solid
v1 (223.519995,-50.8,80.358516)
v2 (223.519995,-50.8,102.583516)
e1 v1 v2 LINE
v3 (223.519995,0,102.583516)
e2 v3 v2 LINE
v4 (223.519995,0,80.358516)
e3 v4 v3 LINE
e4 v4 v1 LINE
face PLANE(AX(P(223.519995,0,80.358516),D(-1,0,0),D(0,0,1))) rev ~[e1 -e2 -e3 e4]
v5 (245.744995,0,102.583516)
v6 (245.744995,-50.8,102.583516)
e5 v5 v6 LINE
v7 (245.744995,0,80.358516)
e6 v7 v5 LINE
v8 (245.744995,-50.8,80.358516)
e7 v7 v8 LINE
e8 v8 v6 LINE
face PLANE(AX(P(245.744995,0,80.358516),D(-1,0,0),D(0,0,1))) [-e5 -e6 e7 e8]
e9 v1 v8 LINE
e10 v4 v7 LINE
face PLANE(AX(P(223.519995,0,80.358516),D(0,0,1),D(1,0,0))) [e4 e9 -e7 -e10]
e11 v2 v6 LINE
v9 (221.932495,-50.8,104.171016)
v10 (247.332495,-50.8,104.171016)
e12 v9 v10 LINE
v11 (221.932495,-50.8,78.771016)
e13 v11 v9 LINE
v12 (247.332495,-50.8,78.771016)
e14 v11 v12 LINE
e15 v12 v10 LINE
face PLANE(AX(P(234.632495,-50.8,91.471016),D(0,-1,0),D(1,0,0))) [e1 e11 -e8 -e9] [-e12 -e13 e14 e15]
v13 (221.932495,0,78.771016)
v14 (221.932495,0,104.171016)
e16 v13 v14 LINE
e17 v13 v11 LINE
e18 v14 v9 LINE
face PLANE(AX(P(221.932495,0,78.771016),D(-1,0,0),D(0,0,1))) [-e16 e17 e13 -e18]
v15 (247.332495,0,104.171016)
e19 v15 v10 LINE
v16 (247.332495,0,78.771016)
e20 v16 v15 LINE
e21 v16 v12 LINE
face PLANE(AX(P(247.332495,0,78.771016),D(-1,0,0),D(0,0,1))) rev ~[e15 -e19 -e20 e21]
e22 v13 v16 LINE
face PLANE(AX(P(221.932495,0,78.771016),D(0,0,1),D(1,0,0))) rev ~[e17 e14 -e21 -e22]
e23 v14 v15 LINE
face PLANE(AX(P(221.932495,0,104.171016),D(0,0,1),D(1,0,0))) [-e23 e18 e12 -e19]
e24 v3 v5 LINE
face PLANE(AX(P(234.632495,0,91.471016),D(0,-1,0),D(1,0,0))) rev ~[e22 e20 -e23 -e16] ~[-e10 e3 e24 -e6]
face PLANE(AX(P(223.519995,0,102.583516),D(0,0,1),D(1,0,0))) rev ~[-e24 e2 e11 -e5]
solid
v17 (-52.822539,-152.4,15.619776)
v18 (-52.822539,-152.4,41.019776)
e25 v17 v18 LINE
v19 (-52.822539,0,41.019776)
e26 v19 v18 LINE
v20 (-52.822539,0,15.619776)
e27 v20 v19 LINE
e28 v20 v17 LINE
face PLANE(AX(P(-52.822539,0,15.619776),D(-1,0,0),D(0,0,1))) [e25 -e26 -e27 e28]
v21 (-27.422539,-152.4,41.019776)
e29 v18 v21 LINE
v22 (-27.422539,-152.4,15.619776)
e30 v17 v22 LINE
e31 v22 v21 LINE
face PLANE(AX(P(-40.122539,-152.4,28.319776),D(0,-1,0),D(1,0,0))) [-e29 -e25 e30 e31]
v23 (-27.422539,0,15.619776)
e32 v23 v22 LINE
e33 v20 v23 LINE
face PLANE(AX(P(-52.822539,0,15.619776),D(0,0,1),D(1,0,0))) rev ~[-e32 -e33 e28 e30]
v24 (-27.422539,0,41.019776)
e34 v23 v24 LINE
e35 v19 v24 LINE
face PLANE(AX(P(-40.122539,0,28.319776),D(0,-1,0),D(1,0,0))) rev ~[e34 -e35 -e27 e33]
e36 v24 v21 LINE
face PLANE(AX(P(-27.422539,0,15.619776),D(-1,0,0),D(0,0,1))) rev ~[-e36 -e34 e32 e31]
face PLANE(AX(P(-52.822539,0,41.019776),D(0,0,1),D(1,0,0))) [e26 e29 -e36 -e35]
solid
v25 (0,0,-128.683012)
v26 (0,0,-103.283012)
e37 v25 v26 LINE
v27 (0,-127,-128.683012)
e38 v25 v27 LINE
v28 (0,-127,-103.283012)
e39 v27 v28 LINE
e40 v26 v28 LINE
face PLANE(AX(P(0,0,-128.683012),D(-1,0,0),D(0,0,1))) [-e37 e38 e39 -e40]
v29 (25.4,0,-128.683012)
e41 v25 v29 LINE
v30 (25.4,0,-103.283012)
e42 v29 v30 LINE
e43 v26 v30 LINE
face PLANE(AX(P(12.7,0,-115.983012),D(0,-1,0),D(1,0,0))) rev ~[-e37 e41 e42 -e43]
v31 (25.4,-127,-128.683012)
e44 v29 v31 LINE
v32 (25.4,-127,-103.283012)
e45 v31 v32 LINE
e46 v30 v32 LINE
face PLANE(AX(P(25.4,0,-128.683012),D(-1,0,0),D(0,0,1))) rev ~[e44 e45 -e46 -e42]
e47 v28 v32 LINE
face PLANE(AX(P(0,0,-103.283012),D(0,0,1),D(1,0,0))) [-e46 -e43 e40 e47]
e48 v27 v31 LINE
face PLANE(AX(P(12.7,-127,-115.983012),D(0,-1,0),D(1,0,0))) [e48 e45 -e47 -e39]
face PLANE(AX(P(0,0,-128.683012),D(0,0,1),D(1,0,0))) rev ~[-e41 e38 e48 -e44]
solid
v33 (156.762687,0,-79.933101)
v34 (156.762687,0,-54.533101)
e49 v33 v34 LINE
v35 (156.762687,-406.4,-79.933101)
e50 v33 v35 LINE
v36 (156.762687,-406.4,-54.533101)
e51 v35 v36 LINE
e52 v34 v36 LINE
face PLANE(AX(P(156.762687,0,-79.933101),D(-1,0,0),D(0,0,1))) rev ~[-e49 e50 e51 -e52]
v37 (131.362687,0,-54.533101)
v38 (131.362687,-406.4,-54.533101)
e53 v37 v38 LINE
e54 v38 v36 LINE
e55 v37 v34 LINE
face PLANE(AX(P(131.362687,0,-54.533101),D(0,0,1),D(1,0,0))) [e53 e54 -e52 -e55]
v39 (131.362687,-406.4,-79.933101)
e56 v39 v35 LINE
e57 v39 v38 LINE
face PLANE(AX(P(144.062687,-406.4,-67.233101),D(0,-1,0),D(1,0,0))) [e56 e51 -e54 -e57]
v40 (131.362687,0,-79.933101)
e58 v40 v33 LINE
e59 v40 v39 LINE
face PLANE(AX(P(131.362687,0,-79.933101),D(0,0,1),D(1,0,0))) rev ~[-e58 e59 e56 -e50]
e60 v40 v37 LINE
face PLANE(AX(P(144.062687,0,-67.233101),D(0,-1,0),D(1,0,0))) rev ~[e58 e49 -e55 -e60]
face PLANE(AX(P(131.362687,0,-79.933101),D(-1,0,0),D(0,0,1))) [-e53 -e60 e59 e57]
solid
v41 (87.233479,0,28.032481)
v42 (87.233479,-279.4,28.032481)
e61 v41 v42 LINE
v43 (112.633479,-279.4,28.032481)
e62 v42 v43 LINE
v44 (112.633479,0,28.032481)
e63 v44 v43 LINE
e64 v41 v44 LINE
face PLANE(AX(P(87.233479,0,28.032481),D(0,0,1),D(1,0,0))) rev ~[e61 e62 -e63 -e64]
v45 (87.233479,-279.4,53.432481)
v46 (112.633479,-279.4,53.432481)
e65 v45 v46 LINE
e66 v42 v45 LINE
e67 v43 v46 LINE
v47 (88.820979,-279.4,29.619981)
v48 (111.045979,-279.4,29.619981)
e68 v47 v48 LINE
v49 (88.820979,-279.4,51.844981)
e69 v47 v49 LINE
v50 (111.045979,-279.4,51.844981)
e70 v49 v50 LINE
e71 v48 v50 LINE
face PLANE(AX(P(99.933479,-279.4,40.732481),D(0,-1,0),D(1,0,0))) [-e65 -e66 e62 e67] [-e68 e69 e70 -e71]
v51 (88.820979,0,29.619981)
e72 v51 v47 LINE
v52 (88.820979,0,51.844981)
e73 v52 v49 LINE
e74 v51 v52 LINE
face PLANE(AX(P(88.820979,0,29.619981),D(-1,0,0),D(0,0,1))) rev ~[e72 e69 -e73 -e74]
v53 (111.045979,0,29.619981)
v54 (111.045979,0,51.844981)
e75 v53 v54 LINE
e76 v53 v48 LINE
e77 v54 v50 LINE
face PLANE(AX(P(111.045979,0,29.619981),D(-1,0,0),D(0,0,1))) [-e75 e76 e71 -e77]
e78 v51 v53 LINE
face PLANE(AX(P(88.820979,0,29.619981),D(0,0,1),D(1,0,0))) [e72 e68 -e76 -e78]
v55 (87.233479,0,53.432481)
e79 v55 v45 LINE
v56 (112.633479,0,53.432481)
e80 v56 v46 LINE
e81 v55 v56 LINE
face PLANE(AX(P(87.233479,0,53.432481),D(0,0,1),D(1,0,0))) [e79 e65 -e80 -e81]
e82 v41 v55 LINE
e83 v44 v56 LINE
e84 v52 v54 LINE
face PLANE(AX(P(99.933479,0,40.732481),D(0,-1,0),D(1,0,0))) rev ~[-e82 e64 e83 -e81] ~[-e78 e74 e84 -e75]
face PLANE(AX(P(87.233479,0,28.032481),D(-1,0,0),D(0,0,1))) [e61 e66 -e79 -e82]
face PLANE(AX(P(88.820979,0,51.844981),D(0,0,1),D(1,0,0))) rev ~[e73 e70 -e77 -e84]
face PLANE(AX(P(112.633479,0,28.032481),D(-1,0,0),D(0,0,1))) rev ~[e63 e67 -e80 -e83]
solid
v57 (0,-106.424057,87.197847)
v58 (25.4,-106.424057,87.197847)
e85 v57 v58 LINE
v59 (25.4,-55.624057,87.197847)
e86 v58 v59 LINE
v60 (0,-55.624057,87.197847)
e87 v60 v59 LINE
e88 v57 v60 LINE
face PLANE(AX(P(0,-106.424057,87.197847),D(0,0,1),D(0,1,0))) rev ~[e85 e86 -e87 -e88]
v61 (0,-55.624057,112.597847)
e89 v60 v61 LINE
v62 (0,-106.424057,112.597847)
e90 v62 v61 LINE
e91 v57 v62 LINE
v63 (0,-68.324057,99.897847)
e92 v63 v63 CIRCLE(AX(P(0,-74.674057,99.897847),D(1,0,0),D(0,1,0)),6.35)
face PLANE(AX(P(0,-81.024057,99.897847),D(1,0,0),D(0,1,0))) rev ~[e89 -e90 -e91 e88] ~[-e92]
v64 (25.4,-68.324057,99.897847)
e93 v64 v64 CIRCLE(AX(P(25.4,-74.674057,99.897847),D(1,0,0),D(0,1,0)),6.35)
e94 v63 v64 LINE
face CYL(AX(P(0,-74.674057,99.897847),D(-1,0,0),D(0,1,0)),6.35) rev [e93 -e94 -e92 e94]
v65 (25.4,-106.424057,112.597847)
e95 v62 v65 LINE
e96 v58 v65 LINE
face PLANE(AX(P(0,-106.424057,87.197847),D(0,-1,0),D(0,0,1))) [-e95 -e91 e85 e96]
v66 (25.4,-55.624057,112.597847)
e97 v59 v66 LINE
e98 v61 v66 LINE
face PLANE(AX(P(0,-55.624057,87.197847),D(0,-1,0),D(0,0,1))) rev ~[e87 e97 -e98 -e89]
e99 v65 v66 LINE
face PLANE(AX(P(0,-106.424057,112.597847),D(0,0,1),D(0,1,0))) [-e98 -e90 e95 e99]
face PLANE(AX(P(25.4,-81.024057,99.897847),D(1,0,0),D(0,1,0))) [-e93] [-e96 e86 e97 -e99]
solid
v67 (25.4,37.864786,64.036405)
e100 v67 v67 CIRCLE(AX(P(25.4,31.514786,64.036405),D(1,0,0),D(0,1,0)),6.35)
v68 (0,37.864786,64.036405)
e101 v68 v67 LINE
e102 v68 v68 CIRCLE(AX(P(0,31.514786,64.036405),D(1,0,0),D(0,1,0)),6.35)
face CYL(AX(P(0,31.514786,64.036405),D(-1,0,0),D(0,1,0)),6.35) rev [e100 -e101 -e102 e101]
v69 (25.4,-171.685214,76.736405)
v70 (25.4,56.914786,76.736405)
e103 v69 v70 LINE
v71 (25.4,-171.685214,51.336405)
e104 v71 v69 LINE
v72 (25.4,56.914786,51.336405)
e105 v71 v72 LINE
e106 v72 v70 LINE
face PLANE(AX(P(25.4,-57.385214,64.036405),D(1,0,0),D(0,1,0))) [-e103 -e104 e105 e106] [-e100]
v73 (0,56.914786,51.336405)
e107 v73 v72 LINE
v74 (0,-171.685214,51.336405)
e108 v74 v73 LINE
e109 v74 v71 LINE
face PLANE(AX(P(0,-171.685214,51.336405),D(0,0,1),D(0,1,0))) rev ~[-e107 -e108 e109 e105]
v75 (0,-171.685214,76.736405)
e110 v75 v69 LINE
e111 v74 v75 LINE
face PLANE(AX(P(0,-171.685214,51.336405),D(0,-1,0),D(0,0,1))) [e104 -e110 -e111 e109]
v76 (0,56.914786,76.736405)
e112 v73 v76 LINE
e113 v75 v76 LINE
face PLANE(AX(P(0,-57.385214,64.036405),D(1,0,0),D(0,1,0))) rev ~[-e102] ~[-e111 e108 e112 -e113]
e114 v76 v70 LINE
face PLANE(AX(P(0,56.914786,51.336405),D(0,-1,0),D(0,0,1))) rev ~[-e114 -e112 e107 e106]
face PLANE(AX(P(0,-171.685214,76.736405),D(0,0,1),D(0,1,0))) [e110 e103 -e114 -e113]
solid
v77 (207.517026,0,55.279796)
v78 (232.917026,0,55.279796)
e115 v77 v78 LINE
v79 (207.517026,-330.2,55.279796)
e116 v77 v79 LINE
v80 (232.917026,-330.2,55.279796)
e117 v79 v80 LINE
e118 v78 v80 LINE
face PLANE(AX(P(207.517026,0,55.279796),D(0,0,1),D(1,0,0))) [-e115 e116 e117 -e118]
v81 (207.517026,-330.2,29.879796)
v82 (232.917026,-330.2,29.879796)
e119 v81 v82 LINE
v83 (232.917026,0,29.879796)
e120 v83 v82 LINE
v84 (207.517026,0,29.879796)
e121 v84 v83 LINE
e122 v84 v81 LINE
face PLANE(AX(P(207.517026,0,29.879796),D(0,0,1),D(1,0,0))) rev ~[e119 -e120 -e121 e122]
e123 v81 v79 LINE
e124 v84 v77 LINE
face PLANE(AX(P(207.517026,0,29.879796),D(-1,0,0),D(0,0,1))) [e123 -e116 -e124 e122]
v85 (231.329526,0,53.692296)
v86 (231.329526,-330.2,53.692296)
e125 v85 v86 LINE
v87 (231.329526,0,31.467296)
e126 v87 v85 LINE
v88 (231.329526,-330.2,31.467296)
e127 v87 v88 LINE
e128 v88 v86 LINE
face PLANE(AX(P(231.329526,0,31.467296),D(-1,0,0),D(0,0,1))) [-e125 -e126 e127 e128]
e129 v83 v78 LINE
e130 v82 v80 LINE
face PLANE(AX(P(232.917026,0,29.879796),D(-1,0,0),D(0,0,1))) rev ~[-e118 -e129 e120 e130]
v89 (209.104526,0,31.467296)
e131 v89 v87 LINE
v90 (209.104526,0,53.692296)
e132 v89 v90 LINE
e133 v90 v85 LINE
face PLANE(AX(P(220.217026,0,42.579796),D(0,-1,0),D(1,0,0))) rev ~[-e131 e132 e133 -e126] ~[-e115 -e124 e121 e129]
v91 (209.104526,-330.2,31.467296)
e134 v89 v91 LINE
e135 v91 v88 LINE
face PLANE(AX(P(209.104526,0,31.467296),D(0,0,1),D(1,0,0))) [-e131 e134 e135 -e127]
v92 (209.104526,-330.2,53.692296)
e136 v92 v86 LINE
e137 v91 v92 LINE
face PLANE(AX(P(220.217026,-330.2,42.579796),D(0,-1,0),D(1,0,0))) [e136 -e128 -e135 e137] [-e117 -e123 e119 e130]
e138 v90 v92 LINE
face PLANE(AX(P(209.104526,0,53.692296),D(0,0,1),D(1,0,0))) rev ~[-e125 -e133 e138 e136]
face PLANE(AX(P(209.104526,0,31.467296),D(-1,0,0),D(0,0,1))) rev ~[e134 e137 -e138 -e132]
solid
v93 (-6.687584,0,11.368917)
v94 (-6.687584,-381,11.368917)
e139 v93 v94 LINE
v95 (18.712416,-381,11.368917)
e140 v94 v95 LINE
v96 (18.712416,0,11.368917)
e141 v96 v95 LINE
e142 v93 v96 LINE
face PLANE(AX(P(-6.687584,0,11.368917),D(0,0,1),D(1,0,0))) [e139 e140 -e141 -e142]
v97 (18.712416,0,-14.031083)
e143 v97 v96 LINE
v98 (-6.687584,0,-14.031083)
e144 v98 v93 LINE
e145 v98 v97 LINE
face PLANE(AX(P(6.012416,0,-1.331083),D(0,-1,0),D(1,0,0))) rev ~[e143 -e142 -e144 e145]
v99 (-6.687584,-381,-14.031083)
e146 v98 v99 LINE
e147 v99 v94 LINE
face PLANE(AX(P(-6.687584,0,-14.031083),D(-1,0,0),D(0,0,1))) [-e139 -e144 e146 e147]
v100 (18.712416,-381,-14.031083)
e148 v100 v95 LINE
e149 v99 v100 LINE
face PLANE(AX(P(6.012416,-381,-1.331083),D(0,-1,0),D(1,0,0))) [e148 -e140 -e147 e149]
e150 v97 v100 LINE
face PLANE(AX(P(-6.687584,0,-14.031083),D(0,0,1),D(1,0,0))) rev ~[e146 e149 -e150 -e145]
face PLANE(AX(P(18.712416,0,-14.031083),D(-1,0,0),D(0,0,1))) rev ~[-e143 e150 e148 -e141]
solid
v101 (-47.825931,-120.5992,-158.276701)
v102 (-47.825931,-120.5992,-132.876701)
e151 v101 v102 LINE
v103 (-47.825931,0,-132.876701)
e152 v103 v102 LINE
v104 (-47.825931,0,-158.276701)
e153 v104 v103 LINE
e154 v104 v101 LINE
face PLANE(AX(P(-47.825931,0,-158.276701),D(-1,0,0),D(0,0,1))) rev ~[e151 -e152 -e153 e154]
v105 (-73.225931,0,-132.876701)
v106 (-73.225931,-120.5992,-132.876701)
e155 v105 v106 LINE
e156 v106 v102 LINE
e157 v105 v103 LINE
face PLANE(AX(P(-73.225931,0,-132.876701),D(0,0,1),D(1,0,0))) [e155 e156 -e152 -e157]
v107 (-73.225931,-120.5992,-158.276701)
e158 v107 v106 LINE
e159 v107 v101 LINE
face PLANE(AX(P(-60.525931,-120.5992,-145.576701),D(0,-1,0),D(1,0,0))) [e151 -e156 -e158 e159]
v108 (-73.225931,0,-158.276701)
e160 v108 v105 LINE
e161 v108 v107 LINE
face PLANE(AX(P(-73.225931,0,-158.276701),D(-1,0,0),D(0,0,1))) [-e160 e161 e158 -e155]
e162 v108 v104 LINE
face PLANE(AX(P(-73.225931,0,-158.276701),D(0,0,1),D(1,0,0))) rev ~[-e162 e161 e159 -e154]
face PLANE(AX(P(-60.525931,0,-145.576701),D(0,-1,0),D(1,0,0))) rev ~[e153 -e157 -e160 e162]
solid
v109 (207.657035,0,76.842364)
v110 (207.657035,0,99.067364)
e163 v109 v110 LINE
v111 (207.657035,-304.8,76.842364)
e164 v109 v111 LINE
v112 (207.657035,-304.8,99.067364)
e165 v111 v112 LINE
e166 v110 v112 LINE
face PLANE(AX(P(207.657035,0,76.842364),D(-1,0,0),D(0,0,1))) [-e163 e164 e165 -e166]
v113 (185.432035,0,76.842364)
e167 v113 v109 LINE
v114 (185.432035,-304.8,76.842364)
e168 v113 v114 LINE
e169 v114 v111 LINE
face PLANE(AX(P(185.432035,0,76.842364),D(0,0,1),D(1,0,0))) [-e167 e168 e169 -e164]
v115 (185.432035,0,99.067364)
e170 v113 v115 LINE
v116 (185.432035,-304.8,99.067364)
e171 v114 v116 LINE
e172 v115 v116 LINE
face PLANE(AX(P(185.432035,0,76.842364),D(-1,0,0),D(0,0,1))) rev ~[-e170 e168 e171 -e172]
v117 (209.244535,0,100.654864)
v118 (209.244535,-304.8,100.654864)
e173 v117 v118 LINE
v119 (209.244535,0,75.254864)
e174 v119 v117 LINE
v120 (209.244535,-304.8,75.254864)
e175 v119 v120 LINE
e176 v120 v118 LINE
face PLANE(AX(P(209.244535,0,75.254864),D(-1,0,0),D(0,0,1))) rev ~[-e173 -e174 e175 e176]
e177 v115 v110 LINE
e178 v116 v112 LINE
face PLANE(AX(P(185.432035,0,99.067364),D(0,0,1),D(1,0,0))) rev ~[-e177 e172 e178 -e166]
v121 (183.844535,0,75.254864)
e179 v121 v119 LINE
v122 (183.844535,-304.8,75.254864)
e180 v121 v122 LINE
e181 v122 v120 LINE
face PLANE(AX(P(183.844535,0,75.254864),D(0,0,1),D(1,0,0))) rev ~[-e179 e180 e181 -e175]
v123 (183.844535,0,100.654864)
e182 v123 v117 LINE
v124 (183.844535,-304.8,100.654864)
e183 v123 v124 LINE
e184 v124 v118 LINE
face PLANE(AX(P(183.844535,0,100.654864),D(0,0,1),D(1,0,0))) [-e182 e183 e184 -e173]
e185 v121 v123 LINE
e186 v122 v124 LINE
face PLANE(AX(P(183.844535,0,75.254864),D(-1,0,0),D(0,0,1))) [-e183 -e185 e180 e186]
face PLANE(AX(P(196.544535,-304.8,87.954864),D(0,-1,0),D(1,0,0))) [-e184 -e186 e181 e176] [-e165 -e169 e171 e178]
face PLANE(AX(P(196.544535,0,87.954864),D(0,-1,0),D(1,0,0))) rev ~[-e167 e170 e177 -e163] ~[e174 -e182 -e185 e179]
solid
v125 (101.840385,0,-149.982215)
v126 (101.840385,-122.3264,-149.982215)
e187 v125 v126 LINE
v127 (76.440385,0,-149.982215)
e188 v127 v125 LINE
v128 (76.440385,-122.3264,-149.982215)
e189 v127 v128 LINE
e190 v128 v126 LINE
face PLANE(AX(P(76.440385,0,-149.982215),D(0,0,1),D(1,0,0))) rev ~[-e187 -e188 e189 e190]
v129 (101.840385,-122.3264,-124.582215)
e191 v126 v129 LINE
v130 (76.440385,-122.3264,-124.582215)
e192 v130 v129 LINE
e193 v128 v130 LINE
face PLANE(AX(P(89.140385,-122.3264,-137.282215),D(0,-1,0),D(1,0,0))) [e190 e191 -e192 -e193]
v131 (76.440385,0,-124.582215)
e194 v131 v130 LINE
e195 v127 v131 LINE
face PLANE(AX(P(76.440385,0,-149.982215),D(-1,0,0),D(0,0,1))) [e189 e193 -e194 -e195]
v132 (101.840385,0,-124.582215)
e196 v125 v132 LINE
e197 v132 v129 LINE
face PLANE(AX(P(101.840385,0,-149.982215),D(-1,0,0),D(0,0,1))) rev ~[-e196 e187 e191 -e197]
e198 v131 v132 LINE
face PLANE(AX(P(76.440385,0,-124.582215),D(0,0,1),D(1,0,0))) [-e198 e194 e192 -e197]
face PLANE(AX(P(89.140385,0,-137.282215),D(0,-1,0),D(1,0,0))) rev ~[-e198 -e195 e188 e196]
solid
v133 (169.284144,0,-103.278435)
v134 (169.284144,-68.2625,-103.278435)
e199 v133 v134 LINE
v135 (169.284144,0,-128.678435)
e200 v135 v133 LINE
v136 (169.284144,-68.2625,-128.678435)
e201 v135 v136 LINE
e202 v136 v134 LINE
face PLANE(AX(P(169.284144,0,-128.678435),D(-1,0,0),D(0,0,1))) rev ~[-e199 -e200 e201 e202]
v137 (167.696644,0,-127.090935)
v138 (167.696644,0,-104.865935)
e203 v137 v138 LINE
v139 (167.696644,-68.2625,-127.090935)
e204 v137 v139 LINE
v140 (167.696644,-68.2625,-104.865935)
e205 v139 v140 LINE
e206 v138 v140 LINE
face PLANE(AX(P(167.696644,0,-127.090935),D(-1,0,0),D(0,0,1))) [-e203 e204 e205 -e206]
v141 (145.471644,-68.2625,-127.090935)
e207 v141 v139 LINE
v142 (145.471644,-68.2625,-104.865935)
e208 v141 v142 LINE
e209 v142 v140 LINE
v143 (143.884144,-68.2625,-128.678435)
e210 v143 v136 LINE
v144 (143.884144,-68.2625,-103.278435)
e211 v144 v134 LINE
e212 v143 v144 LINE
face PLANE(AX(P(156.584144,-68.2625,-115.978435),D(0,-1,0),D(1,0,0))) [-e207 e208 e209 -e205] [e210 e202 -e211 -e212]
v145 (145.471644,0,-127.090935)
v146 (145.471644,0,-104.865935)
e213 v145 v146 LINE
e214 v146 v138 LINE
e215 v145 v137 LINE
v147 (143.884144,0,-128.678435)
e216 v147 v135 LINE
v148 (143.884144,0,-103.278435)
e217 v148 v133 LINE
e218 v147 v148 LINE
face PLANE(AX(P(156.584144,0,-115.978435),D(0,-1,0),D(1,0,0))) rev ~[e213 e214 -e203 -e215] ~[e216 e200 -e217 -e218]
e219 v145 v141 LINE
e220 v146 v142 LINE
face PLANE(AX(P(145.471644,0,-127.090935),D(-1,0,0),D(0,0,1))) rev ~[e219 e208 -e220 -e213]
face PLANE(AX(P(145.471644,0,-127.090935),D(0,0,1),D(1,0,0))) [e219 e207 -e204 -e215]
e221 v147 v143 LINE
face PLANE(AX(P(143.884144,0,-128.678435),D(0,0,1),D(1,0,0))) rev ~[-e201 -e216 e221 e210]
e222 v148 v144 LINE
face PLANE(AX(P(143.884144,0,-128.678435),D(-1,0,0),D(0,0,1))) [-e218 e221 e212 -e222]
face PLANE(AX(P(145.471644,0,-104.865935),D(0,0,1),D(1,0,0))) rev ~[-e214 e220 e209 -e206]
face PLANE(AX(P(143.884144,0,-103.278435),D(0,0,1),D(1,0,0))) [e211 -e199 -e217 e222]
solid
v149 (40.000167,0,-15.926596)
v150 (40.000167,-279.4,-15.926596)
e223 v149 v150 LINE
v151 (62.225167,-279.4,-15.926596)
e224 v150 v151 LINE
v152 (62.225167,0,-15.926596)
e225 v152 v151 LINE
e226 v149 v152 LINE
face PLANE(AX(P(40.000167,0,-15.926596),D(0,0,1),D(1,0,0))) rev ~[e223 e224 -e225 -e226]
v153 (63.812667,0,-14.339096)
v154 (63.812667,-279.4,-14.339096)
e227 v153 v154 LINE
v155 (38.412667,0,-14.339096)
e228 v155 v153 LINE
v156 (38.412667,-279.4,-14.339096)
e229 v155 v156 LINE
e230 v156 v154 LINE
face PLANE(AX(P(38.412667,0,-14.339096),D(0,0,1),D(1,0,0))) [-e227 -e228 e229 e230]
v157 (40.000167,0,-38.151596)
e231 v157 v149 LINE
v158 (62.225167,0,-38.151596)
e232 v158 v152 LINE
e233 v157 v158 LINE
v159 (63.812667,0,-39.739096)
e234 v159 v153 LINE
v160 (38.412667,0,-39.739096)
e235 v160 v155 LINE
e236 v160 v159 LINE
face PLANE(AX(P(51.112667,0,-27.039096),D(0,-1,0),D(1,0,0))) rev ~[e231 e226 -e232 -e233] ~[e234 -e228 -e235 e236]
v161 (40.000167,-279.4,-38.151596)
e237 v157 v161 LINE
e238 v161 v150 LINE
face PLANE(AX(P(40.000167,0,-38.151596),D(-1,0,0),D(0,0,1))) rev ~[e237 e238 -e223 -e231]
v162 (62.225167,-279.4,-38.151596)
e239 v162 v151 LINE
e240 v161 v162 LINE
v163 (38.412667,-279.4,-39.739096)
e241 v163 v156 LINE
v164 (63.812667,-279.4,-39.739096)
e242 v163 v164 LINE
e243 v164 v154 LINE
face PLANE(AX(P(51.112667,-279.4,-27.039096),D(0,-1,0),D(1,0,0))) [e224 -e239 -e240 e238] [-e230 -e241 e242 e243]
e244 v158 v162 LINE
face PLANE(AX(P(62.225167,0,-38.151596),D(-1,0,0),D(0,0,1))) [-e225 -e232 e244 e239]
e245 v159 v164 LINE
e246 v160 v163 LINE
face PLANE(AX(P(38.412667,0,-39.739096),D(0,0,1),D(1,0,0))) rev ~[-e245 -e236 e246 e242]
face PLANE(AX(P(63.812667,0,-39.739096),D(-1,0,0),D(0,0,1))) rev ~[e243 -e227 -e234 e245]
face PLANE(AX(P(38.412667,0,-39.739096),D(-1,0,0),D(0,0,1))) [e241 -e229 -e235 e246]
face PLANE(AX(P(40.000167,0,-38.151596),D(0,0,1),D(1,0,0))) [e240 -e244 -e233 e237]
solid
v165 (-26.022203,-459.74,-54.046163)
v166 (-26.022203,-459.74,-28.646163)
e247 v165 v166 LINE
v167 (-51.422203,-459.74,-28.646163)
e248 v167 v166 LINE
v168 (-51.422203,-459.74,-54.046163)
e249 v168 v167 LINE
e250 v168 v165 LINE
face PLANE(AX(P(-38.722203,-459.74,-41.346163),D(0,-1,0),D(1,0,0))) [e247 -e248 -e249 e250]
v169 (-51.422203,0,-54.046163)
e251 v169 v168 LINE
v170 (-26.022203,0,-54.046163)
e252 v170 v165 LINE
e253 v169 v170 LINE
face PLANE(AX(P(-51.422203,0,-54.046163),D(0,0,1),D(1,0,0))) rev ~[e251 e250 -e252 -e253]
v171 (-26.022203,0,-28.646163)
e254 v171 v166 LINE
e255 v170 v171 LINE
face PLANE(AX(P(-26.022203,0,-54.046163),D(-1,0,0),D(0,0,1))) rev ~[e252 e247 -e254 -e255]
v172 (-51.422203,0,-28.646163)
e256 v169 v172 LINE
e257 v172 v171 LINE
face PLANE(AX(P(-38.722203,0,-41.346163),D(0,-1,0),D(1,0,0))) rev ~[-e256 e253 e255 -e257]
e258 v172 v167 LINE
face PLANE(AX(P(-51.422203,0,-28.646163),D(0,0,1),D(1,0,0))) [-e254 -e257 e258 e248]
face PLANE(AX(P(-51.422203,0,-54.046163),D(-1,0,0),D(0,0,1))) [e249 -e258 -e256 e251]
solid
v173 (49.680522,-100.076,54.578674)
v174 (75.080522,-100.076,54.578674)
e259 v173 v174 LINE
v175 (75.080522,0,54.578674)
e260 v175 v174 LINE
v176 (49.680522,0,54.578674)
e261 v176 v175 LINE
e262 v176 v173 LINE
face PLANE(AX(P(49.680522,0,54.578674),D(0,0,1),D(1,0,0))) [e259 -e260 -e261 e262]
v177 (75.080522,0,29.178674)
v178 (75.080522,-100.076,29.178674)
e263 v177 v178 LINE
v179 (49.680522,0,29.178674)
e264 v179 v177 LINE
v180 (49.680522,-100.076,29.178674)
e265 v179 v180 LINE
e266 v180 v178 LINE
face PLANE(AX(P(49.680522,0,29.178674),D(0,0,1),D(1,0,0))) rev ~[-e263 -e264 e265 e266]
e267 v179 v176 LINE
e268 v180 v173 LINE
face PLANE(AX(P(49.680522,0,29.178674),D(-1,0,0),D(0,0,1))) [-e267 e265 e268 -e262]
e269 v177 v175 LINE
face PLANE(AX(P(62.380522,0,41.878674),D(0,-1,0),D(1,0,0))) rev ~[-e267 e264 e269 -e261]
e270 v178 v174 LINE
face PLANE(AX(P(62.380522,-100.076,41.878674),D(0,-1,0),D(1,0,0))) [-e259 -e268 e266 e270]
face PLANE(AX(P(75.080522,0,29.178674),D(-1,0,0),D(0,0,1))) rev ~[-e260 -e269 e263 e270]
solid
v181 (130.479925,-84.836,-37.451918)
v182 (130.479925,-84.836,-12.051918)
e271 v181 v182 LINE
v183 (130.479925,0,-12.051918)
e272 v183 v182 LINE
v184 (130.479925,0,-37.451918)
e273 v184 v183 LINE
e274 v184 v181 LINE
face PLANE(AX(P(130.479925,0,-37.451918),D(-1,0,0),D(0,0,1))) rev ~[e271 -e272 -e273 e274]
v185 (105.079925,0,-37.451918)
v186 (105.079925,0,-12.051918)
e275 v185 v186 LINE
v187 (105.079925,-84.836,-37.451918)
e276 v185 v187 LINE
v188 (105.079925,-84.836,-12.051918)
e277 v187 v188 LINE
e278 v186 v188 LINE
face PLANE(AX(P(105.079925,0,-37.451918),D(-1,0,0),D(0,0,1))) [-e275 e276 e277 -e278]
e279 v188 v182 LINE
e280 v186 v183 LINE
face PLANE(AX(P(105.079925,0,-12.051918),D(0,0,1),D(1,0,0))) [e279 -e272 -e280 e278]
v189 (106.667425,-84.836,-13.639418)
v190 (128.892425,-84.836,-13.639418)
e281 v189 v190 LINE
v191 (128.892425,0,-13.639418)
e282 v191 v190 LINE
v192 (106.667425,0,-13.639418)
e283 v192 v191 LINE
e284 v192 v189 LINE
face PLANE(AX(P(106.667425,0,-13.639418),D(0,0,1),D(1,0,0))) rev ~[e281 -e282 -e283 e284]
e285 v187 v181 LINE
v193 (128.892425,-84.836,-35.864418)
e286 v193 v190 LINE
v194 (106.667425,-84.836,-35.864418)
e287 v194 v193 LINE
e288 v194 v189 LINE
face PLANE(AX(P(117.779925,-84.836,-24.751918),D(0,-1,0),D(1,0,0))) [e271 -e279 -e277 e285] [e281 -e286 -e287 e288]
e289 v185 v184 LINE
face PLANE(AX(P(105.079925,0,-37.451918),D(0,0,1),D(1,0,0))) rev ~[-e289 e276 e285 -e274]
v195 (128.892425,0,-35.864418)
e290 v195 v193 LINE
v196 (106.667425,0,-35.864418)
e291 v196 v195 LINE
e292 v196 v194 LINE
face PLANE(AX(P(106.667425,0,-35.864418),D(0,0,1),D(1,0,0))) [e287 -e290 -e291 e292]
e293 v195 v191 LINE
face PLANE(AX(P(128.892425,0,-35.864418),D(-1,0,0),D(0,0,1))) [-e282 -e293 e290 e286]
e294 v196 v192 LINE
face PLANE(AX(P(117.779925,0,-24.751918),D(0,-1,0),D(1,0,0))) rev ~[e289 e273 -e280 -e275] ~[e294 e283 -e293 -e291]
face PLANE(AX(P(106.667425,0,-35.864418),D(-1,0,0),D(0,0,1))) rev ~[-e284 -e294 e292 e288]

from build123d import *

# Parameters (mm, degrees)
F0_W      = 25.4
F0_H      = 25.4
F1_DEPTH  = 381
F2_W      = 25.4
F2_H      = 25.4
F2_W_2    = 22.225
F2_H_2    = 22.225
F3_DEPTH  = 279.4
F4_W      = 25.4
F4_H      = 25.4
F5_DEPTH  = 152.4
F6_W      = 228.6
F6_H      = 25.4
F6_R      = 6.35
F7_DEPTH  = 25.4
F8_W      = 50.8
F8_H      = 25.4
F8_R      = 6.35
F9_DEPTH  = 25.4
F10_W     = 25.4
F10_H     = 25.4
F11_DEPTH = 459.74
F12_W     = 25.4
F12_H     = 25.4
F13_DEPTH = 100.076
F14_W     = 25.4
F14_H     = 25.4
F15_DEPTH = 122.3264
F16_W     = 25.4
F16_H     = 25.4
F17_DEPTH = 120.5992
F18_W     = 25.4
F18_H     = 25.4
F19_DEPTH = 127
F20_W     = 25.4
F20_H     = 25.4
F21_DEPTH = 406.4
F22_W     = 25.4
F22_H     = 25.4
F22_W_2   = 22.225
F22_H_2   = 22.225
F23_DEPTH = 279.4
F24_W     = 25.4
F24_H     = 25.4
F24_W_2   = 22.225
F24_H_2   = 22.225
F25_DEPTH = 304.8
F26_W     = 25.4
F26_H     = 25.4
F26_W_2   = 22.225
F26_H_2   = 22.225
F27_DEPTH = 50.8
F28_W     = 25.4
F28_H     = 25.4
F28_W_2   = 22.225
F28_H_2   = 22.225
F29_DEPTH = 330.2
F30_W     = 25.4
F30_H     = 25.4
F30_W_2   = 22.225
F30_H_2   = 22.225
F31_DEPTH = 84.836
F32_W     = 25.4
F32_H     = 25.4
F32_W_2   = 22.225
F32_H_2   = 22.225
F33_DEPTH = 68.2625


with BuildPart() as f1:
    # F0 (on Front) → F1 (new body)
    with BuildSketch(Plane.XZ):
        with Locations((6.012416, -1.331083)):
            Rectangle(F0_W, F0_H)
    extrude(amount=F1_DEPTH)


with BuildPart() as f3:
    # F2 (on Front) → F3 (new body)
    with BuildSketch(Plane.XZ):
        with Locations((51.112667, -27.039096)):
            Rectangle(F2_W, F2_H)
        with Locations((51.112667, -27.039096)):
            Rectangle(F2_W_2, F2_H_2, mode=Mode.SUBTRACT)
    extrude(amount=F3_DEPTH)


with BuildPart() as f5:
    # F4 (on Front) → F5 (new body)
    with BuildSketch(Plane.XZ):
        with Locations((-40.122539, 28.319776)):
            Rectangle(F4_W, F4_H)
    extrude(amount=F5_DEPTH)


with BuildPart() as f7:
    # F6 (on Right) → F7 (new body)
    with BuildSketch(Plane.YZ):
        with Locations((-57.385214, 64.036405)):
            Rectangle(F6_W, F6_H)
        with Locations((31.514786, 64.036405)):
            Circle(F6_R, mode=Mode.SUBTRACT)
    extrude(amount=F7_DEPTH)


with BuildPart() as f9:
    # F8 (on Right) → F9 (new body)
    with BuildSketch(Plane.YZ):
        with Locations((-81.024057, 99.897847)):
            Rectangle(F8_W, F8_H)
        with Locations((-74.674057, 99.897847)):
            Circle(F8_R, mode=Mode.SUBTRACT)
    extrude(amount=F9_DEPTH)


with BuildPart() as f11:
    # F10 (on Front) → F11 (new body)
    with BuildSketch(Plane.XZ):
        with Locations((-38.722203, -41.346163)):
            Rectangle(F10_W, F10_H)
    extrude(amount=F11_DEPTH)


with BuildPart() as f13:
    # F12 (on Front) → F13 (new body)
    with BuildSketch(Plane.XZ):
        with Locations((62.380522, 41.878674)):
            Rectangle(F12_W, F12_H)
    extrude(amount=F13_DEPTH)


with BuildPart() as f15:
    # F14 (on Front) → F15 (new body)
    with BuildSketch(Plane.XZ):
        with Locations((89.140385, -137.282215)):
            Rectangle(F14_W, F14_H)
    extrude(amount=F15_DEPTH)


with BuildPart() as f17:
    # F16 (on Front) → F17 (new body)
    with BuildSketch(Plane.XZ):
        with Locations((-60.525931, -145.576701)):
            Rectangle(F16_W, F16_H)
    extrude(amount=F17_DEPTH)


with BuildPart() as f19:
    # F18 (on Front) → F19 (new body)
    with BuildSketch(Plane.XZ):
        with Locations((12.7, -115.983012)):
            Rectangle(F18_W, F18_H)
    extrude(amount=F19_DEPTH)


with BuildPart() as f21:
    # F20 (on Front) → F21 (new body)
    with BuildSketch(Plane.XZ):
        with Locations((144.062687, -67.233101)):
            Rectangle(F20_W, F20_H)
    extrude(amount=F21_DEPTH)


with BuildPart() as f23:
    # F22 (on Front) → F23 (new body)
    with BuildSketch(Plane.XZ):
        with Locations((99.933479, 40.732481)):
            Rectangle(F22_W, F22_H)
        with Locations((99.933479, 40.732481)):
            Rectangle(F22_W_2, F22_H_2, mode=Mode.SUBTRACT)
    extrude(amount=F23_DEPTH)


with BuildPart() as f25:
    # F24 (on Front) → F25 (new body)
    with BuildSketch(Plane.XZ):
        with Locations((196.544535, 87.954864)):
            Rectangle(F24_W, F24_H)
        with Locations((196.544535, 87.954864)):
            Rectangle(F24_W_2, F24_H_2, mode=Mode.SUBTRACT)
    extrude(amount=F25_DEPTH)


with BuildPart() as f27:
    # F26 (on Front) → F27 (new body)
    with BuildSketch(Plane.XZ):
        with Locations((234.632495, 91.471016)):
            Rectangle(F26_W, F26_H)
        with Locations((234.632495, 91.471016)):
            Rectangle(F26_W_2, F26_H_2, mode=Mode.SUBTRACT)
    extrude(amount=F27_DEPTH)


with BuildPart() as f29:
    # F28 (on Front) → F29 (new body)
    with BuildSketch(Plane.XZ):
        with Locations((220.217026, 42.579796)):
            Rectangle(F28_W, F28_H)
        with Locations((220.217026, 42.579796)):
            Rectangle(F28_W_2, F28_H_2, mode=Mode.SUBTRACT)
    extrude(amount=F29_DEPTH)


with BuildPart() as f31:
    # F30 (on Front) → F31 (new body)
    with BuildSketch(Plane.XZ):
        with Locations((117.779925, -24.751918)):
            Rectangle(F30_W, F30_H)
        with Locations((117.779925, -24.751918)):
            Rectangle(F30_W_2, F30_H_2, mode=Mode.SUBTRACT)
    extrude(amount=F31_DEPTH)


with BuildPart() as f33:
    # F32 (on Front) → F33 (new body)
    with BuildSketch(Plane.XZ):
        with Locations((156.584144, -115.978435)):
            Rectangle(F32_W, F32_H)
        with Locations((156.584144, -115.978435)):
            Rectangle(F32_W_2, F32_H_2, mode=Mode.SUBTRACT)
    extrude(amount=F33_DEPTH)


solid = Compound([f1.part, f3.part, f5.part, f7.part, f9.part, f11.part, f13.part, f15.part, f17.part, f19.part, f21.part, f23.part, f25.part, f27.part, f29.part, f31.part, f33.part])
